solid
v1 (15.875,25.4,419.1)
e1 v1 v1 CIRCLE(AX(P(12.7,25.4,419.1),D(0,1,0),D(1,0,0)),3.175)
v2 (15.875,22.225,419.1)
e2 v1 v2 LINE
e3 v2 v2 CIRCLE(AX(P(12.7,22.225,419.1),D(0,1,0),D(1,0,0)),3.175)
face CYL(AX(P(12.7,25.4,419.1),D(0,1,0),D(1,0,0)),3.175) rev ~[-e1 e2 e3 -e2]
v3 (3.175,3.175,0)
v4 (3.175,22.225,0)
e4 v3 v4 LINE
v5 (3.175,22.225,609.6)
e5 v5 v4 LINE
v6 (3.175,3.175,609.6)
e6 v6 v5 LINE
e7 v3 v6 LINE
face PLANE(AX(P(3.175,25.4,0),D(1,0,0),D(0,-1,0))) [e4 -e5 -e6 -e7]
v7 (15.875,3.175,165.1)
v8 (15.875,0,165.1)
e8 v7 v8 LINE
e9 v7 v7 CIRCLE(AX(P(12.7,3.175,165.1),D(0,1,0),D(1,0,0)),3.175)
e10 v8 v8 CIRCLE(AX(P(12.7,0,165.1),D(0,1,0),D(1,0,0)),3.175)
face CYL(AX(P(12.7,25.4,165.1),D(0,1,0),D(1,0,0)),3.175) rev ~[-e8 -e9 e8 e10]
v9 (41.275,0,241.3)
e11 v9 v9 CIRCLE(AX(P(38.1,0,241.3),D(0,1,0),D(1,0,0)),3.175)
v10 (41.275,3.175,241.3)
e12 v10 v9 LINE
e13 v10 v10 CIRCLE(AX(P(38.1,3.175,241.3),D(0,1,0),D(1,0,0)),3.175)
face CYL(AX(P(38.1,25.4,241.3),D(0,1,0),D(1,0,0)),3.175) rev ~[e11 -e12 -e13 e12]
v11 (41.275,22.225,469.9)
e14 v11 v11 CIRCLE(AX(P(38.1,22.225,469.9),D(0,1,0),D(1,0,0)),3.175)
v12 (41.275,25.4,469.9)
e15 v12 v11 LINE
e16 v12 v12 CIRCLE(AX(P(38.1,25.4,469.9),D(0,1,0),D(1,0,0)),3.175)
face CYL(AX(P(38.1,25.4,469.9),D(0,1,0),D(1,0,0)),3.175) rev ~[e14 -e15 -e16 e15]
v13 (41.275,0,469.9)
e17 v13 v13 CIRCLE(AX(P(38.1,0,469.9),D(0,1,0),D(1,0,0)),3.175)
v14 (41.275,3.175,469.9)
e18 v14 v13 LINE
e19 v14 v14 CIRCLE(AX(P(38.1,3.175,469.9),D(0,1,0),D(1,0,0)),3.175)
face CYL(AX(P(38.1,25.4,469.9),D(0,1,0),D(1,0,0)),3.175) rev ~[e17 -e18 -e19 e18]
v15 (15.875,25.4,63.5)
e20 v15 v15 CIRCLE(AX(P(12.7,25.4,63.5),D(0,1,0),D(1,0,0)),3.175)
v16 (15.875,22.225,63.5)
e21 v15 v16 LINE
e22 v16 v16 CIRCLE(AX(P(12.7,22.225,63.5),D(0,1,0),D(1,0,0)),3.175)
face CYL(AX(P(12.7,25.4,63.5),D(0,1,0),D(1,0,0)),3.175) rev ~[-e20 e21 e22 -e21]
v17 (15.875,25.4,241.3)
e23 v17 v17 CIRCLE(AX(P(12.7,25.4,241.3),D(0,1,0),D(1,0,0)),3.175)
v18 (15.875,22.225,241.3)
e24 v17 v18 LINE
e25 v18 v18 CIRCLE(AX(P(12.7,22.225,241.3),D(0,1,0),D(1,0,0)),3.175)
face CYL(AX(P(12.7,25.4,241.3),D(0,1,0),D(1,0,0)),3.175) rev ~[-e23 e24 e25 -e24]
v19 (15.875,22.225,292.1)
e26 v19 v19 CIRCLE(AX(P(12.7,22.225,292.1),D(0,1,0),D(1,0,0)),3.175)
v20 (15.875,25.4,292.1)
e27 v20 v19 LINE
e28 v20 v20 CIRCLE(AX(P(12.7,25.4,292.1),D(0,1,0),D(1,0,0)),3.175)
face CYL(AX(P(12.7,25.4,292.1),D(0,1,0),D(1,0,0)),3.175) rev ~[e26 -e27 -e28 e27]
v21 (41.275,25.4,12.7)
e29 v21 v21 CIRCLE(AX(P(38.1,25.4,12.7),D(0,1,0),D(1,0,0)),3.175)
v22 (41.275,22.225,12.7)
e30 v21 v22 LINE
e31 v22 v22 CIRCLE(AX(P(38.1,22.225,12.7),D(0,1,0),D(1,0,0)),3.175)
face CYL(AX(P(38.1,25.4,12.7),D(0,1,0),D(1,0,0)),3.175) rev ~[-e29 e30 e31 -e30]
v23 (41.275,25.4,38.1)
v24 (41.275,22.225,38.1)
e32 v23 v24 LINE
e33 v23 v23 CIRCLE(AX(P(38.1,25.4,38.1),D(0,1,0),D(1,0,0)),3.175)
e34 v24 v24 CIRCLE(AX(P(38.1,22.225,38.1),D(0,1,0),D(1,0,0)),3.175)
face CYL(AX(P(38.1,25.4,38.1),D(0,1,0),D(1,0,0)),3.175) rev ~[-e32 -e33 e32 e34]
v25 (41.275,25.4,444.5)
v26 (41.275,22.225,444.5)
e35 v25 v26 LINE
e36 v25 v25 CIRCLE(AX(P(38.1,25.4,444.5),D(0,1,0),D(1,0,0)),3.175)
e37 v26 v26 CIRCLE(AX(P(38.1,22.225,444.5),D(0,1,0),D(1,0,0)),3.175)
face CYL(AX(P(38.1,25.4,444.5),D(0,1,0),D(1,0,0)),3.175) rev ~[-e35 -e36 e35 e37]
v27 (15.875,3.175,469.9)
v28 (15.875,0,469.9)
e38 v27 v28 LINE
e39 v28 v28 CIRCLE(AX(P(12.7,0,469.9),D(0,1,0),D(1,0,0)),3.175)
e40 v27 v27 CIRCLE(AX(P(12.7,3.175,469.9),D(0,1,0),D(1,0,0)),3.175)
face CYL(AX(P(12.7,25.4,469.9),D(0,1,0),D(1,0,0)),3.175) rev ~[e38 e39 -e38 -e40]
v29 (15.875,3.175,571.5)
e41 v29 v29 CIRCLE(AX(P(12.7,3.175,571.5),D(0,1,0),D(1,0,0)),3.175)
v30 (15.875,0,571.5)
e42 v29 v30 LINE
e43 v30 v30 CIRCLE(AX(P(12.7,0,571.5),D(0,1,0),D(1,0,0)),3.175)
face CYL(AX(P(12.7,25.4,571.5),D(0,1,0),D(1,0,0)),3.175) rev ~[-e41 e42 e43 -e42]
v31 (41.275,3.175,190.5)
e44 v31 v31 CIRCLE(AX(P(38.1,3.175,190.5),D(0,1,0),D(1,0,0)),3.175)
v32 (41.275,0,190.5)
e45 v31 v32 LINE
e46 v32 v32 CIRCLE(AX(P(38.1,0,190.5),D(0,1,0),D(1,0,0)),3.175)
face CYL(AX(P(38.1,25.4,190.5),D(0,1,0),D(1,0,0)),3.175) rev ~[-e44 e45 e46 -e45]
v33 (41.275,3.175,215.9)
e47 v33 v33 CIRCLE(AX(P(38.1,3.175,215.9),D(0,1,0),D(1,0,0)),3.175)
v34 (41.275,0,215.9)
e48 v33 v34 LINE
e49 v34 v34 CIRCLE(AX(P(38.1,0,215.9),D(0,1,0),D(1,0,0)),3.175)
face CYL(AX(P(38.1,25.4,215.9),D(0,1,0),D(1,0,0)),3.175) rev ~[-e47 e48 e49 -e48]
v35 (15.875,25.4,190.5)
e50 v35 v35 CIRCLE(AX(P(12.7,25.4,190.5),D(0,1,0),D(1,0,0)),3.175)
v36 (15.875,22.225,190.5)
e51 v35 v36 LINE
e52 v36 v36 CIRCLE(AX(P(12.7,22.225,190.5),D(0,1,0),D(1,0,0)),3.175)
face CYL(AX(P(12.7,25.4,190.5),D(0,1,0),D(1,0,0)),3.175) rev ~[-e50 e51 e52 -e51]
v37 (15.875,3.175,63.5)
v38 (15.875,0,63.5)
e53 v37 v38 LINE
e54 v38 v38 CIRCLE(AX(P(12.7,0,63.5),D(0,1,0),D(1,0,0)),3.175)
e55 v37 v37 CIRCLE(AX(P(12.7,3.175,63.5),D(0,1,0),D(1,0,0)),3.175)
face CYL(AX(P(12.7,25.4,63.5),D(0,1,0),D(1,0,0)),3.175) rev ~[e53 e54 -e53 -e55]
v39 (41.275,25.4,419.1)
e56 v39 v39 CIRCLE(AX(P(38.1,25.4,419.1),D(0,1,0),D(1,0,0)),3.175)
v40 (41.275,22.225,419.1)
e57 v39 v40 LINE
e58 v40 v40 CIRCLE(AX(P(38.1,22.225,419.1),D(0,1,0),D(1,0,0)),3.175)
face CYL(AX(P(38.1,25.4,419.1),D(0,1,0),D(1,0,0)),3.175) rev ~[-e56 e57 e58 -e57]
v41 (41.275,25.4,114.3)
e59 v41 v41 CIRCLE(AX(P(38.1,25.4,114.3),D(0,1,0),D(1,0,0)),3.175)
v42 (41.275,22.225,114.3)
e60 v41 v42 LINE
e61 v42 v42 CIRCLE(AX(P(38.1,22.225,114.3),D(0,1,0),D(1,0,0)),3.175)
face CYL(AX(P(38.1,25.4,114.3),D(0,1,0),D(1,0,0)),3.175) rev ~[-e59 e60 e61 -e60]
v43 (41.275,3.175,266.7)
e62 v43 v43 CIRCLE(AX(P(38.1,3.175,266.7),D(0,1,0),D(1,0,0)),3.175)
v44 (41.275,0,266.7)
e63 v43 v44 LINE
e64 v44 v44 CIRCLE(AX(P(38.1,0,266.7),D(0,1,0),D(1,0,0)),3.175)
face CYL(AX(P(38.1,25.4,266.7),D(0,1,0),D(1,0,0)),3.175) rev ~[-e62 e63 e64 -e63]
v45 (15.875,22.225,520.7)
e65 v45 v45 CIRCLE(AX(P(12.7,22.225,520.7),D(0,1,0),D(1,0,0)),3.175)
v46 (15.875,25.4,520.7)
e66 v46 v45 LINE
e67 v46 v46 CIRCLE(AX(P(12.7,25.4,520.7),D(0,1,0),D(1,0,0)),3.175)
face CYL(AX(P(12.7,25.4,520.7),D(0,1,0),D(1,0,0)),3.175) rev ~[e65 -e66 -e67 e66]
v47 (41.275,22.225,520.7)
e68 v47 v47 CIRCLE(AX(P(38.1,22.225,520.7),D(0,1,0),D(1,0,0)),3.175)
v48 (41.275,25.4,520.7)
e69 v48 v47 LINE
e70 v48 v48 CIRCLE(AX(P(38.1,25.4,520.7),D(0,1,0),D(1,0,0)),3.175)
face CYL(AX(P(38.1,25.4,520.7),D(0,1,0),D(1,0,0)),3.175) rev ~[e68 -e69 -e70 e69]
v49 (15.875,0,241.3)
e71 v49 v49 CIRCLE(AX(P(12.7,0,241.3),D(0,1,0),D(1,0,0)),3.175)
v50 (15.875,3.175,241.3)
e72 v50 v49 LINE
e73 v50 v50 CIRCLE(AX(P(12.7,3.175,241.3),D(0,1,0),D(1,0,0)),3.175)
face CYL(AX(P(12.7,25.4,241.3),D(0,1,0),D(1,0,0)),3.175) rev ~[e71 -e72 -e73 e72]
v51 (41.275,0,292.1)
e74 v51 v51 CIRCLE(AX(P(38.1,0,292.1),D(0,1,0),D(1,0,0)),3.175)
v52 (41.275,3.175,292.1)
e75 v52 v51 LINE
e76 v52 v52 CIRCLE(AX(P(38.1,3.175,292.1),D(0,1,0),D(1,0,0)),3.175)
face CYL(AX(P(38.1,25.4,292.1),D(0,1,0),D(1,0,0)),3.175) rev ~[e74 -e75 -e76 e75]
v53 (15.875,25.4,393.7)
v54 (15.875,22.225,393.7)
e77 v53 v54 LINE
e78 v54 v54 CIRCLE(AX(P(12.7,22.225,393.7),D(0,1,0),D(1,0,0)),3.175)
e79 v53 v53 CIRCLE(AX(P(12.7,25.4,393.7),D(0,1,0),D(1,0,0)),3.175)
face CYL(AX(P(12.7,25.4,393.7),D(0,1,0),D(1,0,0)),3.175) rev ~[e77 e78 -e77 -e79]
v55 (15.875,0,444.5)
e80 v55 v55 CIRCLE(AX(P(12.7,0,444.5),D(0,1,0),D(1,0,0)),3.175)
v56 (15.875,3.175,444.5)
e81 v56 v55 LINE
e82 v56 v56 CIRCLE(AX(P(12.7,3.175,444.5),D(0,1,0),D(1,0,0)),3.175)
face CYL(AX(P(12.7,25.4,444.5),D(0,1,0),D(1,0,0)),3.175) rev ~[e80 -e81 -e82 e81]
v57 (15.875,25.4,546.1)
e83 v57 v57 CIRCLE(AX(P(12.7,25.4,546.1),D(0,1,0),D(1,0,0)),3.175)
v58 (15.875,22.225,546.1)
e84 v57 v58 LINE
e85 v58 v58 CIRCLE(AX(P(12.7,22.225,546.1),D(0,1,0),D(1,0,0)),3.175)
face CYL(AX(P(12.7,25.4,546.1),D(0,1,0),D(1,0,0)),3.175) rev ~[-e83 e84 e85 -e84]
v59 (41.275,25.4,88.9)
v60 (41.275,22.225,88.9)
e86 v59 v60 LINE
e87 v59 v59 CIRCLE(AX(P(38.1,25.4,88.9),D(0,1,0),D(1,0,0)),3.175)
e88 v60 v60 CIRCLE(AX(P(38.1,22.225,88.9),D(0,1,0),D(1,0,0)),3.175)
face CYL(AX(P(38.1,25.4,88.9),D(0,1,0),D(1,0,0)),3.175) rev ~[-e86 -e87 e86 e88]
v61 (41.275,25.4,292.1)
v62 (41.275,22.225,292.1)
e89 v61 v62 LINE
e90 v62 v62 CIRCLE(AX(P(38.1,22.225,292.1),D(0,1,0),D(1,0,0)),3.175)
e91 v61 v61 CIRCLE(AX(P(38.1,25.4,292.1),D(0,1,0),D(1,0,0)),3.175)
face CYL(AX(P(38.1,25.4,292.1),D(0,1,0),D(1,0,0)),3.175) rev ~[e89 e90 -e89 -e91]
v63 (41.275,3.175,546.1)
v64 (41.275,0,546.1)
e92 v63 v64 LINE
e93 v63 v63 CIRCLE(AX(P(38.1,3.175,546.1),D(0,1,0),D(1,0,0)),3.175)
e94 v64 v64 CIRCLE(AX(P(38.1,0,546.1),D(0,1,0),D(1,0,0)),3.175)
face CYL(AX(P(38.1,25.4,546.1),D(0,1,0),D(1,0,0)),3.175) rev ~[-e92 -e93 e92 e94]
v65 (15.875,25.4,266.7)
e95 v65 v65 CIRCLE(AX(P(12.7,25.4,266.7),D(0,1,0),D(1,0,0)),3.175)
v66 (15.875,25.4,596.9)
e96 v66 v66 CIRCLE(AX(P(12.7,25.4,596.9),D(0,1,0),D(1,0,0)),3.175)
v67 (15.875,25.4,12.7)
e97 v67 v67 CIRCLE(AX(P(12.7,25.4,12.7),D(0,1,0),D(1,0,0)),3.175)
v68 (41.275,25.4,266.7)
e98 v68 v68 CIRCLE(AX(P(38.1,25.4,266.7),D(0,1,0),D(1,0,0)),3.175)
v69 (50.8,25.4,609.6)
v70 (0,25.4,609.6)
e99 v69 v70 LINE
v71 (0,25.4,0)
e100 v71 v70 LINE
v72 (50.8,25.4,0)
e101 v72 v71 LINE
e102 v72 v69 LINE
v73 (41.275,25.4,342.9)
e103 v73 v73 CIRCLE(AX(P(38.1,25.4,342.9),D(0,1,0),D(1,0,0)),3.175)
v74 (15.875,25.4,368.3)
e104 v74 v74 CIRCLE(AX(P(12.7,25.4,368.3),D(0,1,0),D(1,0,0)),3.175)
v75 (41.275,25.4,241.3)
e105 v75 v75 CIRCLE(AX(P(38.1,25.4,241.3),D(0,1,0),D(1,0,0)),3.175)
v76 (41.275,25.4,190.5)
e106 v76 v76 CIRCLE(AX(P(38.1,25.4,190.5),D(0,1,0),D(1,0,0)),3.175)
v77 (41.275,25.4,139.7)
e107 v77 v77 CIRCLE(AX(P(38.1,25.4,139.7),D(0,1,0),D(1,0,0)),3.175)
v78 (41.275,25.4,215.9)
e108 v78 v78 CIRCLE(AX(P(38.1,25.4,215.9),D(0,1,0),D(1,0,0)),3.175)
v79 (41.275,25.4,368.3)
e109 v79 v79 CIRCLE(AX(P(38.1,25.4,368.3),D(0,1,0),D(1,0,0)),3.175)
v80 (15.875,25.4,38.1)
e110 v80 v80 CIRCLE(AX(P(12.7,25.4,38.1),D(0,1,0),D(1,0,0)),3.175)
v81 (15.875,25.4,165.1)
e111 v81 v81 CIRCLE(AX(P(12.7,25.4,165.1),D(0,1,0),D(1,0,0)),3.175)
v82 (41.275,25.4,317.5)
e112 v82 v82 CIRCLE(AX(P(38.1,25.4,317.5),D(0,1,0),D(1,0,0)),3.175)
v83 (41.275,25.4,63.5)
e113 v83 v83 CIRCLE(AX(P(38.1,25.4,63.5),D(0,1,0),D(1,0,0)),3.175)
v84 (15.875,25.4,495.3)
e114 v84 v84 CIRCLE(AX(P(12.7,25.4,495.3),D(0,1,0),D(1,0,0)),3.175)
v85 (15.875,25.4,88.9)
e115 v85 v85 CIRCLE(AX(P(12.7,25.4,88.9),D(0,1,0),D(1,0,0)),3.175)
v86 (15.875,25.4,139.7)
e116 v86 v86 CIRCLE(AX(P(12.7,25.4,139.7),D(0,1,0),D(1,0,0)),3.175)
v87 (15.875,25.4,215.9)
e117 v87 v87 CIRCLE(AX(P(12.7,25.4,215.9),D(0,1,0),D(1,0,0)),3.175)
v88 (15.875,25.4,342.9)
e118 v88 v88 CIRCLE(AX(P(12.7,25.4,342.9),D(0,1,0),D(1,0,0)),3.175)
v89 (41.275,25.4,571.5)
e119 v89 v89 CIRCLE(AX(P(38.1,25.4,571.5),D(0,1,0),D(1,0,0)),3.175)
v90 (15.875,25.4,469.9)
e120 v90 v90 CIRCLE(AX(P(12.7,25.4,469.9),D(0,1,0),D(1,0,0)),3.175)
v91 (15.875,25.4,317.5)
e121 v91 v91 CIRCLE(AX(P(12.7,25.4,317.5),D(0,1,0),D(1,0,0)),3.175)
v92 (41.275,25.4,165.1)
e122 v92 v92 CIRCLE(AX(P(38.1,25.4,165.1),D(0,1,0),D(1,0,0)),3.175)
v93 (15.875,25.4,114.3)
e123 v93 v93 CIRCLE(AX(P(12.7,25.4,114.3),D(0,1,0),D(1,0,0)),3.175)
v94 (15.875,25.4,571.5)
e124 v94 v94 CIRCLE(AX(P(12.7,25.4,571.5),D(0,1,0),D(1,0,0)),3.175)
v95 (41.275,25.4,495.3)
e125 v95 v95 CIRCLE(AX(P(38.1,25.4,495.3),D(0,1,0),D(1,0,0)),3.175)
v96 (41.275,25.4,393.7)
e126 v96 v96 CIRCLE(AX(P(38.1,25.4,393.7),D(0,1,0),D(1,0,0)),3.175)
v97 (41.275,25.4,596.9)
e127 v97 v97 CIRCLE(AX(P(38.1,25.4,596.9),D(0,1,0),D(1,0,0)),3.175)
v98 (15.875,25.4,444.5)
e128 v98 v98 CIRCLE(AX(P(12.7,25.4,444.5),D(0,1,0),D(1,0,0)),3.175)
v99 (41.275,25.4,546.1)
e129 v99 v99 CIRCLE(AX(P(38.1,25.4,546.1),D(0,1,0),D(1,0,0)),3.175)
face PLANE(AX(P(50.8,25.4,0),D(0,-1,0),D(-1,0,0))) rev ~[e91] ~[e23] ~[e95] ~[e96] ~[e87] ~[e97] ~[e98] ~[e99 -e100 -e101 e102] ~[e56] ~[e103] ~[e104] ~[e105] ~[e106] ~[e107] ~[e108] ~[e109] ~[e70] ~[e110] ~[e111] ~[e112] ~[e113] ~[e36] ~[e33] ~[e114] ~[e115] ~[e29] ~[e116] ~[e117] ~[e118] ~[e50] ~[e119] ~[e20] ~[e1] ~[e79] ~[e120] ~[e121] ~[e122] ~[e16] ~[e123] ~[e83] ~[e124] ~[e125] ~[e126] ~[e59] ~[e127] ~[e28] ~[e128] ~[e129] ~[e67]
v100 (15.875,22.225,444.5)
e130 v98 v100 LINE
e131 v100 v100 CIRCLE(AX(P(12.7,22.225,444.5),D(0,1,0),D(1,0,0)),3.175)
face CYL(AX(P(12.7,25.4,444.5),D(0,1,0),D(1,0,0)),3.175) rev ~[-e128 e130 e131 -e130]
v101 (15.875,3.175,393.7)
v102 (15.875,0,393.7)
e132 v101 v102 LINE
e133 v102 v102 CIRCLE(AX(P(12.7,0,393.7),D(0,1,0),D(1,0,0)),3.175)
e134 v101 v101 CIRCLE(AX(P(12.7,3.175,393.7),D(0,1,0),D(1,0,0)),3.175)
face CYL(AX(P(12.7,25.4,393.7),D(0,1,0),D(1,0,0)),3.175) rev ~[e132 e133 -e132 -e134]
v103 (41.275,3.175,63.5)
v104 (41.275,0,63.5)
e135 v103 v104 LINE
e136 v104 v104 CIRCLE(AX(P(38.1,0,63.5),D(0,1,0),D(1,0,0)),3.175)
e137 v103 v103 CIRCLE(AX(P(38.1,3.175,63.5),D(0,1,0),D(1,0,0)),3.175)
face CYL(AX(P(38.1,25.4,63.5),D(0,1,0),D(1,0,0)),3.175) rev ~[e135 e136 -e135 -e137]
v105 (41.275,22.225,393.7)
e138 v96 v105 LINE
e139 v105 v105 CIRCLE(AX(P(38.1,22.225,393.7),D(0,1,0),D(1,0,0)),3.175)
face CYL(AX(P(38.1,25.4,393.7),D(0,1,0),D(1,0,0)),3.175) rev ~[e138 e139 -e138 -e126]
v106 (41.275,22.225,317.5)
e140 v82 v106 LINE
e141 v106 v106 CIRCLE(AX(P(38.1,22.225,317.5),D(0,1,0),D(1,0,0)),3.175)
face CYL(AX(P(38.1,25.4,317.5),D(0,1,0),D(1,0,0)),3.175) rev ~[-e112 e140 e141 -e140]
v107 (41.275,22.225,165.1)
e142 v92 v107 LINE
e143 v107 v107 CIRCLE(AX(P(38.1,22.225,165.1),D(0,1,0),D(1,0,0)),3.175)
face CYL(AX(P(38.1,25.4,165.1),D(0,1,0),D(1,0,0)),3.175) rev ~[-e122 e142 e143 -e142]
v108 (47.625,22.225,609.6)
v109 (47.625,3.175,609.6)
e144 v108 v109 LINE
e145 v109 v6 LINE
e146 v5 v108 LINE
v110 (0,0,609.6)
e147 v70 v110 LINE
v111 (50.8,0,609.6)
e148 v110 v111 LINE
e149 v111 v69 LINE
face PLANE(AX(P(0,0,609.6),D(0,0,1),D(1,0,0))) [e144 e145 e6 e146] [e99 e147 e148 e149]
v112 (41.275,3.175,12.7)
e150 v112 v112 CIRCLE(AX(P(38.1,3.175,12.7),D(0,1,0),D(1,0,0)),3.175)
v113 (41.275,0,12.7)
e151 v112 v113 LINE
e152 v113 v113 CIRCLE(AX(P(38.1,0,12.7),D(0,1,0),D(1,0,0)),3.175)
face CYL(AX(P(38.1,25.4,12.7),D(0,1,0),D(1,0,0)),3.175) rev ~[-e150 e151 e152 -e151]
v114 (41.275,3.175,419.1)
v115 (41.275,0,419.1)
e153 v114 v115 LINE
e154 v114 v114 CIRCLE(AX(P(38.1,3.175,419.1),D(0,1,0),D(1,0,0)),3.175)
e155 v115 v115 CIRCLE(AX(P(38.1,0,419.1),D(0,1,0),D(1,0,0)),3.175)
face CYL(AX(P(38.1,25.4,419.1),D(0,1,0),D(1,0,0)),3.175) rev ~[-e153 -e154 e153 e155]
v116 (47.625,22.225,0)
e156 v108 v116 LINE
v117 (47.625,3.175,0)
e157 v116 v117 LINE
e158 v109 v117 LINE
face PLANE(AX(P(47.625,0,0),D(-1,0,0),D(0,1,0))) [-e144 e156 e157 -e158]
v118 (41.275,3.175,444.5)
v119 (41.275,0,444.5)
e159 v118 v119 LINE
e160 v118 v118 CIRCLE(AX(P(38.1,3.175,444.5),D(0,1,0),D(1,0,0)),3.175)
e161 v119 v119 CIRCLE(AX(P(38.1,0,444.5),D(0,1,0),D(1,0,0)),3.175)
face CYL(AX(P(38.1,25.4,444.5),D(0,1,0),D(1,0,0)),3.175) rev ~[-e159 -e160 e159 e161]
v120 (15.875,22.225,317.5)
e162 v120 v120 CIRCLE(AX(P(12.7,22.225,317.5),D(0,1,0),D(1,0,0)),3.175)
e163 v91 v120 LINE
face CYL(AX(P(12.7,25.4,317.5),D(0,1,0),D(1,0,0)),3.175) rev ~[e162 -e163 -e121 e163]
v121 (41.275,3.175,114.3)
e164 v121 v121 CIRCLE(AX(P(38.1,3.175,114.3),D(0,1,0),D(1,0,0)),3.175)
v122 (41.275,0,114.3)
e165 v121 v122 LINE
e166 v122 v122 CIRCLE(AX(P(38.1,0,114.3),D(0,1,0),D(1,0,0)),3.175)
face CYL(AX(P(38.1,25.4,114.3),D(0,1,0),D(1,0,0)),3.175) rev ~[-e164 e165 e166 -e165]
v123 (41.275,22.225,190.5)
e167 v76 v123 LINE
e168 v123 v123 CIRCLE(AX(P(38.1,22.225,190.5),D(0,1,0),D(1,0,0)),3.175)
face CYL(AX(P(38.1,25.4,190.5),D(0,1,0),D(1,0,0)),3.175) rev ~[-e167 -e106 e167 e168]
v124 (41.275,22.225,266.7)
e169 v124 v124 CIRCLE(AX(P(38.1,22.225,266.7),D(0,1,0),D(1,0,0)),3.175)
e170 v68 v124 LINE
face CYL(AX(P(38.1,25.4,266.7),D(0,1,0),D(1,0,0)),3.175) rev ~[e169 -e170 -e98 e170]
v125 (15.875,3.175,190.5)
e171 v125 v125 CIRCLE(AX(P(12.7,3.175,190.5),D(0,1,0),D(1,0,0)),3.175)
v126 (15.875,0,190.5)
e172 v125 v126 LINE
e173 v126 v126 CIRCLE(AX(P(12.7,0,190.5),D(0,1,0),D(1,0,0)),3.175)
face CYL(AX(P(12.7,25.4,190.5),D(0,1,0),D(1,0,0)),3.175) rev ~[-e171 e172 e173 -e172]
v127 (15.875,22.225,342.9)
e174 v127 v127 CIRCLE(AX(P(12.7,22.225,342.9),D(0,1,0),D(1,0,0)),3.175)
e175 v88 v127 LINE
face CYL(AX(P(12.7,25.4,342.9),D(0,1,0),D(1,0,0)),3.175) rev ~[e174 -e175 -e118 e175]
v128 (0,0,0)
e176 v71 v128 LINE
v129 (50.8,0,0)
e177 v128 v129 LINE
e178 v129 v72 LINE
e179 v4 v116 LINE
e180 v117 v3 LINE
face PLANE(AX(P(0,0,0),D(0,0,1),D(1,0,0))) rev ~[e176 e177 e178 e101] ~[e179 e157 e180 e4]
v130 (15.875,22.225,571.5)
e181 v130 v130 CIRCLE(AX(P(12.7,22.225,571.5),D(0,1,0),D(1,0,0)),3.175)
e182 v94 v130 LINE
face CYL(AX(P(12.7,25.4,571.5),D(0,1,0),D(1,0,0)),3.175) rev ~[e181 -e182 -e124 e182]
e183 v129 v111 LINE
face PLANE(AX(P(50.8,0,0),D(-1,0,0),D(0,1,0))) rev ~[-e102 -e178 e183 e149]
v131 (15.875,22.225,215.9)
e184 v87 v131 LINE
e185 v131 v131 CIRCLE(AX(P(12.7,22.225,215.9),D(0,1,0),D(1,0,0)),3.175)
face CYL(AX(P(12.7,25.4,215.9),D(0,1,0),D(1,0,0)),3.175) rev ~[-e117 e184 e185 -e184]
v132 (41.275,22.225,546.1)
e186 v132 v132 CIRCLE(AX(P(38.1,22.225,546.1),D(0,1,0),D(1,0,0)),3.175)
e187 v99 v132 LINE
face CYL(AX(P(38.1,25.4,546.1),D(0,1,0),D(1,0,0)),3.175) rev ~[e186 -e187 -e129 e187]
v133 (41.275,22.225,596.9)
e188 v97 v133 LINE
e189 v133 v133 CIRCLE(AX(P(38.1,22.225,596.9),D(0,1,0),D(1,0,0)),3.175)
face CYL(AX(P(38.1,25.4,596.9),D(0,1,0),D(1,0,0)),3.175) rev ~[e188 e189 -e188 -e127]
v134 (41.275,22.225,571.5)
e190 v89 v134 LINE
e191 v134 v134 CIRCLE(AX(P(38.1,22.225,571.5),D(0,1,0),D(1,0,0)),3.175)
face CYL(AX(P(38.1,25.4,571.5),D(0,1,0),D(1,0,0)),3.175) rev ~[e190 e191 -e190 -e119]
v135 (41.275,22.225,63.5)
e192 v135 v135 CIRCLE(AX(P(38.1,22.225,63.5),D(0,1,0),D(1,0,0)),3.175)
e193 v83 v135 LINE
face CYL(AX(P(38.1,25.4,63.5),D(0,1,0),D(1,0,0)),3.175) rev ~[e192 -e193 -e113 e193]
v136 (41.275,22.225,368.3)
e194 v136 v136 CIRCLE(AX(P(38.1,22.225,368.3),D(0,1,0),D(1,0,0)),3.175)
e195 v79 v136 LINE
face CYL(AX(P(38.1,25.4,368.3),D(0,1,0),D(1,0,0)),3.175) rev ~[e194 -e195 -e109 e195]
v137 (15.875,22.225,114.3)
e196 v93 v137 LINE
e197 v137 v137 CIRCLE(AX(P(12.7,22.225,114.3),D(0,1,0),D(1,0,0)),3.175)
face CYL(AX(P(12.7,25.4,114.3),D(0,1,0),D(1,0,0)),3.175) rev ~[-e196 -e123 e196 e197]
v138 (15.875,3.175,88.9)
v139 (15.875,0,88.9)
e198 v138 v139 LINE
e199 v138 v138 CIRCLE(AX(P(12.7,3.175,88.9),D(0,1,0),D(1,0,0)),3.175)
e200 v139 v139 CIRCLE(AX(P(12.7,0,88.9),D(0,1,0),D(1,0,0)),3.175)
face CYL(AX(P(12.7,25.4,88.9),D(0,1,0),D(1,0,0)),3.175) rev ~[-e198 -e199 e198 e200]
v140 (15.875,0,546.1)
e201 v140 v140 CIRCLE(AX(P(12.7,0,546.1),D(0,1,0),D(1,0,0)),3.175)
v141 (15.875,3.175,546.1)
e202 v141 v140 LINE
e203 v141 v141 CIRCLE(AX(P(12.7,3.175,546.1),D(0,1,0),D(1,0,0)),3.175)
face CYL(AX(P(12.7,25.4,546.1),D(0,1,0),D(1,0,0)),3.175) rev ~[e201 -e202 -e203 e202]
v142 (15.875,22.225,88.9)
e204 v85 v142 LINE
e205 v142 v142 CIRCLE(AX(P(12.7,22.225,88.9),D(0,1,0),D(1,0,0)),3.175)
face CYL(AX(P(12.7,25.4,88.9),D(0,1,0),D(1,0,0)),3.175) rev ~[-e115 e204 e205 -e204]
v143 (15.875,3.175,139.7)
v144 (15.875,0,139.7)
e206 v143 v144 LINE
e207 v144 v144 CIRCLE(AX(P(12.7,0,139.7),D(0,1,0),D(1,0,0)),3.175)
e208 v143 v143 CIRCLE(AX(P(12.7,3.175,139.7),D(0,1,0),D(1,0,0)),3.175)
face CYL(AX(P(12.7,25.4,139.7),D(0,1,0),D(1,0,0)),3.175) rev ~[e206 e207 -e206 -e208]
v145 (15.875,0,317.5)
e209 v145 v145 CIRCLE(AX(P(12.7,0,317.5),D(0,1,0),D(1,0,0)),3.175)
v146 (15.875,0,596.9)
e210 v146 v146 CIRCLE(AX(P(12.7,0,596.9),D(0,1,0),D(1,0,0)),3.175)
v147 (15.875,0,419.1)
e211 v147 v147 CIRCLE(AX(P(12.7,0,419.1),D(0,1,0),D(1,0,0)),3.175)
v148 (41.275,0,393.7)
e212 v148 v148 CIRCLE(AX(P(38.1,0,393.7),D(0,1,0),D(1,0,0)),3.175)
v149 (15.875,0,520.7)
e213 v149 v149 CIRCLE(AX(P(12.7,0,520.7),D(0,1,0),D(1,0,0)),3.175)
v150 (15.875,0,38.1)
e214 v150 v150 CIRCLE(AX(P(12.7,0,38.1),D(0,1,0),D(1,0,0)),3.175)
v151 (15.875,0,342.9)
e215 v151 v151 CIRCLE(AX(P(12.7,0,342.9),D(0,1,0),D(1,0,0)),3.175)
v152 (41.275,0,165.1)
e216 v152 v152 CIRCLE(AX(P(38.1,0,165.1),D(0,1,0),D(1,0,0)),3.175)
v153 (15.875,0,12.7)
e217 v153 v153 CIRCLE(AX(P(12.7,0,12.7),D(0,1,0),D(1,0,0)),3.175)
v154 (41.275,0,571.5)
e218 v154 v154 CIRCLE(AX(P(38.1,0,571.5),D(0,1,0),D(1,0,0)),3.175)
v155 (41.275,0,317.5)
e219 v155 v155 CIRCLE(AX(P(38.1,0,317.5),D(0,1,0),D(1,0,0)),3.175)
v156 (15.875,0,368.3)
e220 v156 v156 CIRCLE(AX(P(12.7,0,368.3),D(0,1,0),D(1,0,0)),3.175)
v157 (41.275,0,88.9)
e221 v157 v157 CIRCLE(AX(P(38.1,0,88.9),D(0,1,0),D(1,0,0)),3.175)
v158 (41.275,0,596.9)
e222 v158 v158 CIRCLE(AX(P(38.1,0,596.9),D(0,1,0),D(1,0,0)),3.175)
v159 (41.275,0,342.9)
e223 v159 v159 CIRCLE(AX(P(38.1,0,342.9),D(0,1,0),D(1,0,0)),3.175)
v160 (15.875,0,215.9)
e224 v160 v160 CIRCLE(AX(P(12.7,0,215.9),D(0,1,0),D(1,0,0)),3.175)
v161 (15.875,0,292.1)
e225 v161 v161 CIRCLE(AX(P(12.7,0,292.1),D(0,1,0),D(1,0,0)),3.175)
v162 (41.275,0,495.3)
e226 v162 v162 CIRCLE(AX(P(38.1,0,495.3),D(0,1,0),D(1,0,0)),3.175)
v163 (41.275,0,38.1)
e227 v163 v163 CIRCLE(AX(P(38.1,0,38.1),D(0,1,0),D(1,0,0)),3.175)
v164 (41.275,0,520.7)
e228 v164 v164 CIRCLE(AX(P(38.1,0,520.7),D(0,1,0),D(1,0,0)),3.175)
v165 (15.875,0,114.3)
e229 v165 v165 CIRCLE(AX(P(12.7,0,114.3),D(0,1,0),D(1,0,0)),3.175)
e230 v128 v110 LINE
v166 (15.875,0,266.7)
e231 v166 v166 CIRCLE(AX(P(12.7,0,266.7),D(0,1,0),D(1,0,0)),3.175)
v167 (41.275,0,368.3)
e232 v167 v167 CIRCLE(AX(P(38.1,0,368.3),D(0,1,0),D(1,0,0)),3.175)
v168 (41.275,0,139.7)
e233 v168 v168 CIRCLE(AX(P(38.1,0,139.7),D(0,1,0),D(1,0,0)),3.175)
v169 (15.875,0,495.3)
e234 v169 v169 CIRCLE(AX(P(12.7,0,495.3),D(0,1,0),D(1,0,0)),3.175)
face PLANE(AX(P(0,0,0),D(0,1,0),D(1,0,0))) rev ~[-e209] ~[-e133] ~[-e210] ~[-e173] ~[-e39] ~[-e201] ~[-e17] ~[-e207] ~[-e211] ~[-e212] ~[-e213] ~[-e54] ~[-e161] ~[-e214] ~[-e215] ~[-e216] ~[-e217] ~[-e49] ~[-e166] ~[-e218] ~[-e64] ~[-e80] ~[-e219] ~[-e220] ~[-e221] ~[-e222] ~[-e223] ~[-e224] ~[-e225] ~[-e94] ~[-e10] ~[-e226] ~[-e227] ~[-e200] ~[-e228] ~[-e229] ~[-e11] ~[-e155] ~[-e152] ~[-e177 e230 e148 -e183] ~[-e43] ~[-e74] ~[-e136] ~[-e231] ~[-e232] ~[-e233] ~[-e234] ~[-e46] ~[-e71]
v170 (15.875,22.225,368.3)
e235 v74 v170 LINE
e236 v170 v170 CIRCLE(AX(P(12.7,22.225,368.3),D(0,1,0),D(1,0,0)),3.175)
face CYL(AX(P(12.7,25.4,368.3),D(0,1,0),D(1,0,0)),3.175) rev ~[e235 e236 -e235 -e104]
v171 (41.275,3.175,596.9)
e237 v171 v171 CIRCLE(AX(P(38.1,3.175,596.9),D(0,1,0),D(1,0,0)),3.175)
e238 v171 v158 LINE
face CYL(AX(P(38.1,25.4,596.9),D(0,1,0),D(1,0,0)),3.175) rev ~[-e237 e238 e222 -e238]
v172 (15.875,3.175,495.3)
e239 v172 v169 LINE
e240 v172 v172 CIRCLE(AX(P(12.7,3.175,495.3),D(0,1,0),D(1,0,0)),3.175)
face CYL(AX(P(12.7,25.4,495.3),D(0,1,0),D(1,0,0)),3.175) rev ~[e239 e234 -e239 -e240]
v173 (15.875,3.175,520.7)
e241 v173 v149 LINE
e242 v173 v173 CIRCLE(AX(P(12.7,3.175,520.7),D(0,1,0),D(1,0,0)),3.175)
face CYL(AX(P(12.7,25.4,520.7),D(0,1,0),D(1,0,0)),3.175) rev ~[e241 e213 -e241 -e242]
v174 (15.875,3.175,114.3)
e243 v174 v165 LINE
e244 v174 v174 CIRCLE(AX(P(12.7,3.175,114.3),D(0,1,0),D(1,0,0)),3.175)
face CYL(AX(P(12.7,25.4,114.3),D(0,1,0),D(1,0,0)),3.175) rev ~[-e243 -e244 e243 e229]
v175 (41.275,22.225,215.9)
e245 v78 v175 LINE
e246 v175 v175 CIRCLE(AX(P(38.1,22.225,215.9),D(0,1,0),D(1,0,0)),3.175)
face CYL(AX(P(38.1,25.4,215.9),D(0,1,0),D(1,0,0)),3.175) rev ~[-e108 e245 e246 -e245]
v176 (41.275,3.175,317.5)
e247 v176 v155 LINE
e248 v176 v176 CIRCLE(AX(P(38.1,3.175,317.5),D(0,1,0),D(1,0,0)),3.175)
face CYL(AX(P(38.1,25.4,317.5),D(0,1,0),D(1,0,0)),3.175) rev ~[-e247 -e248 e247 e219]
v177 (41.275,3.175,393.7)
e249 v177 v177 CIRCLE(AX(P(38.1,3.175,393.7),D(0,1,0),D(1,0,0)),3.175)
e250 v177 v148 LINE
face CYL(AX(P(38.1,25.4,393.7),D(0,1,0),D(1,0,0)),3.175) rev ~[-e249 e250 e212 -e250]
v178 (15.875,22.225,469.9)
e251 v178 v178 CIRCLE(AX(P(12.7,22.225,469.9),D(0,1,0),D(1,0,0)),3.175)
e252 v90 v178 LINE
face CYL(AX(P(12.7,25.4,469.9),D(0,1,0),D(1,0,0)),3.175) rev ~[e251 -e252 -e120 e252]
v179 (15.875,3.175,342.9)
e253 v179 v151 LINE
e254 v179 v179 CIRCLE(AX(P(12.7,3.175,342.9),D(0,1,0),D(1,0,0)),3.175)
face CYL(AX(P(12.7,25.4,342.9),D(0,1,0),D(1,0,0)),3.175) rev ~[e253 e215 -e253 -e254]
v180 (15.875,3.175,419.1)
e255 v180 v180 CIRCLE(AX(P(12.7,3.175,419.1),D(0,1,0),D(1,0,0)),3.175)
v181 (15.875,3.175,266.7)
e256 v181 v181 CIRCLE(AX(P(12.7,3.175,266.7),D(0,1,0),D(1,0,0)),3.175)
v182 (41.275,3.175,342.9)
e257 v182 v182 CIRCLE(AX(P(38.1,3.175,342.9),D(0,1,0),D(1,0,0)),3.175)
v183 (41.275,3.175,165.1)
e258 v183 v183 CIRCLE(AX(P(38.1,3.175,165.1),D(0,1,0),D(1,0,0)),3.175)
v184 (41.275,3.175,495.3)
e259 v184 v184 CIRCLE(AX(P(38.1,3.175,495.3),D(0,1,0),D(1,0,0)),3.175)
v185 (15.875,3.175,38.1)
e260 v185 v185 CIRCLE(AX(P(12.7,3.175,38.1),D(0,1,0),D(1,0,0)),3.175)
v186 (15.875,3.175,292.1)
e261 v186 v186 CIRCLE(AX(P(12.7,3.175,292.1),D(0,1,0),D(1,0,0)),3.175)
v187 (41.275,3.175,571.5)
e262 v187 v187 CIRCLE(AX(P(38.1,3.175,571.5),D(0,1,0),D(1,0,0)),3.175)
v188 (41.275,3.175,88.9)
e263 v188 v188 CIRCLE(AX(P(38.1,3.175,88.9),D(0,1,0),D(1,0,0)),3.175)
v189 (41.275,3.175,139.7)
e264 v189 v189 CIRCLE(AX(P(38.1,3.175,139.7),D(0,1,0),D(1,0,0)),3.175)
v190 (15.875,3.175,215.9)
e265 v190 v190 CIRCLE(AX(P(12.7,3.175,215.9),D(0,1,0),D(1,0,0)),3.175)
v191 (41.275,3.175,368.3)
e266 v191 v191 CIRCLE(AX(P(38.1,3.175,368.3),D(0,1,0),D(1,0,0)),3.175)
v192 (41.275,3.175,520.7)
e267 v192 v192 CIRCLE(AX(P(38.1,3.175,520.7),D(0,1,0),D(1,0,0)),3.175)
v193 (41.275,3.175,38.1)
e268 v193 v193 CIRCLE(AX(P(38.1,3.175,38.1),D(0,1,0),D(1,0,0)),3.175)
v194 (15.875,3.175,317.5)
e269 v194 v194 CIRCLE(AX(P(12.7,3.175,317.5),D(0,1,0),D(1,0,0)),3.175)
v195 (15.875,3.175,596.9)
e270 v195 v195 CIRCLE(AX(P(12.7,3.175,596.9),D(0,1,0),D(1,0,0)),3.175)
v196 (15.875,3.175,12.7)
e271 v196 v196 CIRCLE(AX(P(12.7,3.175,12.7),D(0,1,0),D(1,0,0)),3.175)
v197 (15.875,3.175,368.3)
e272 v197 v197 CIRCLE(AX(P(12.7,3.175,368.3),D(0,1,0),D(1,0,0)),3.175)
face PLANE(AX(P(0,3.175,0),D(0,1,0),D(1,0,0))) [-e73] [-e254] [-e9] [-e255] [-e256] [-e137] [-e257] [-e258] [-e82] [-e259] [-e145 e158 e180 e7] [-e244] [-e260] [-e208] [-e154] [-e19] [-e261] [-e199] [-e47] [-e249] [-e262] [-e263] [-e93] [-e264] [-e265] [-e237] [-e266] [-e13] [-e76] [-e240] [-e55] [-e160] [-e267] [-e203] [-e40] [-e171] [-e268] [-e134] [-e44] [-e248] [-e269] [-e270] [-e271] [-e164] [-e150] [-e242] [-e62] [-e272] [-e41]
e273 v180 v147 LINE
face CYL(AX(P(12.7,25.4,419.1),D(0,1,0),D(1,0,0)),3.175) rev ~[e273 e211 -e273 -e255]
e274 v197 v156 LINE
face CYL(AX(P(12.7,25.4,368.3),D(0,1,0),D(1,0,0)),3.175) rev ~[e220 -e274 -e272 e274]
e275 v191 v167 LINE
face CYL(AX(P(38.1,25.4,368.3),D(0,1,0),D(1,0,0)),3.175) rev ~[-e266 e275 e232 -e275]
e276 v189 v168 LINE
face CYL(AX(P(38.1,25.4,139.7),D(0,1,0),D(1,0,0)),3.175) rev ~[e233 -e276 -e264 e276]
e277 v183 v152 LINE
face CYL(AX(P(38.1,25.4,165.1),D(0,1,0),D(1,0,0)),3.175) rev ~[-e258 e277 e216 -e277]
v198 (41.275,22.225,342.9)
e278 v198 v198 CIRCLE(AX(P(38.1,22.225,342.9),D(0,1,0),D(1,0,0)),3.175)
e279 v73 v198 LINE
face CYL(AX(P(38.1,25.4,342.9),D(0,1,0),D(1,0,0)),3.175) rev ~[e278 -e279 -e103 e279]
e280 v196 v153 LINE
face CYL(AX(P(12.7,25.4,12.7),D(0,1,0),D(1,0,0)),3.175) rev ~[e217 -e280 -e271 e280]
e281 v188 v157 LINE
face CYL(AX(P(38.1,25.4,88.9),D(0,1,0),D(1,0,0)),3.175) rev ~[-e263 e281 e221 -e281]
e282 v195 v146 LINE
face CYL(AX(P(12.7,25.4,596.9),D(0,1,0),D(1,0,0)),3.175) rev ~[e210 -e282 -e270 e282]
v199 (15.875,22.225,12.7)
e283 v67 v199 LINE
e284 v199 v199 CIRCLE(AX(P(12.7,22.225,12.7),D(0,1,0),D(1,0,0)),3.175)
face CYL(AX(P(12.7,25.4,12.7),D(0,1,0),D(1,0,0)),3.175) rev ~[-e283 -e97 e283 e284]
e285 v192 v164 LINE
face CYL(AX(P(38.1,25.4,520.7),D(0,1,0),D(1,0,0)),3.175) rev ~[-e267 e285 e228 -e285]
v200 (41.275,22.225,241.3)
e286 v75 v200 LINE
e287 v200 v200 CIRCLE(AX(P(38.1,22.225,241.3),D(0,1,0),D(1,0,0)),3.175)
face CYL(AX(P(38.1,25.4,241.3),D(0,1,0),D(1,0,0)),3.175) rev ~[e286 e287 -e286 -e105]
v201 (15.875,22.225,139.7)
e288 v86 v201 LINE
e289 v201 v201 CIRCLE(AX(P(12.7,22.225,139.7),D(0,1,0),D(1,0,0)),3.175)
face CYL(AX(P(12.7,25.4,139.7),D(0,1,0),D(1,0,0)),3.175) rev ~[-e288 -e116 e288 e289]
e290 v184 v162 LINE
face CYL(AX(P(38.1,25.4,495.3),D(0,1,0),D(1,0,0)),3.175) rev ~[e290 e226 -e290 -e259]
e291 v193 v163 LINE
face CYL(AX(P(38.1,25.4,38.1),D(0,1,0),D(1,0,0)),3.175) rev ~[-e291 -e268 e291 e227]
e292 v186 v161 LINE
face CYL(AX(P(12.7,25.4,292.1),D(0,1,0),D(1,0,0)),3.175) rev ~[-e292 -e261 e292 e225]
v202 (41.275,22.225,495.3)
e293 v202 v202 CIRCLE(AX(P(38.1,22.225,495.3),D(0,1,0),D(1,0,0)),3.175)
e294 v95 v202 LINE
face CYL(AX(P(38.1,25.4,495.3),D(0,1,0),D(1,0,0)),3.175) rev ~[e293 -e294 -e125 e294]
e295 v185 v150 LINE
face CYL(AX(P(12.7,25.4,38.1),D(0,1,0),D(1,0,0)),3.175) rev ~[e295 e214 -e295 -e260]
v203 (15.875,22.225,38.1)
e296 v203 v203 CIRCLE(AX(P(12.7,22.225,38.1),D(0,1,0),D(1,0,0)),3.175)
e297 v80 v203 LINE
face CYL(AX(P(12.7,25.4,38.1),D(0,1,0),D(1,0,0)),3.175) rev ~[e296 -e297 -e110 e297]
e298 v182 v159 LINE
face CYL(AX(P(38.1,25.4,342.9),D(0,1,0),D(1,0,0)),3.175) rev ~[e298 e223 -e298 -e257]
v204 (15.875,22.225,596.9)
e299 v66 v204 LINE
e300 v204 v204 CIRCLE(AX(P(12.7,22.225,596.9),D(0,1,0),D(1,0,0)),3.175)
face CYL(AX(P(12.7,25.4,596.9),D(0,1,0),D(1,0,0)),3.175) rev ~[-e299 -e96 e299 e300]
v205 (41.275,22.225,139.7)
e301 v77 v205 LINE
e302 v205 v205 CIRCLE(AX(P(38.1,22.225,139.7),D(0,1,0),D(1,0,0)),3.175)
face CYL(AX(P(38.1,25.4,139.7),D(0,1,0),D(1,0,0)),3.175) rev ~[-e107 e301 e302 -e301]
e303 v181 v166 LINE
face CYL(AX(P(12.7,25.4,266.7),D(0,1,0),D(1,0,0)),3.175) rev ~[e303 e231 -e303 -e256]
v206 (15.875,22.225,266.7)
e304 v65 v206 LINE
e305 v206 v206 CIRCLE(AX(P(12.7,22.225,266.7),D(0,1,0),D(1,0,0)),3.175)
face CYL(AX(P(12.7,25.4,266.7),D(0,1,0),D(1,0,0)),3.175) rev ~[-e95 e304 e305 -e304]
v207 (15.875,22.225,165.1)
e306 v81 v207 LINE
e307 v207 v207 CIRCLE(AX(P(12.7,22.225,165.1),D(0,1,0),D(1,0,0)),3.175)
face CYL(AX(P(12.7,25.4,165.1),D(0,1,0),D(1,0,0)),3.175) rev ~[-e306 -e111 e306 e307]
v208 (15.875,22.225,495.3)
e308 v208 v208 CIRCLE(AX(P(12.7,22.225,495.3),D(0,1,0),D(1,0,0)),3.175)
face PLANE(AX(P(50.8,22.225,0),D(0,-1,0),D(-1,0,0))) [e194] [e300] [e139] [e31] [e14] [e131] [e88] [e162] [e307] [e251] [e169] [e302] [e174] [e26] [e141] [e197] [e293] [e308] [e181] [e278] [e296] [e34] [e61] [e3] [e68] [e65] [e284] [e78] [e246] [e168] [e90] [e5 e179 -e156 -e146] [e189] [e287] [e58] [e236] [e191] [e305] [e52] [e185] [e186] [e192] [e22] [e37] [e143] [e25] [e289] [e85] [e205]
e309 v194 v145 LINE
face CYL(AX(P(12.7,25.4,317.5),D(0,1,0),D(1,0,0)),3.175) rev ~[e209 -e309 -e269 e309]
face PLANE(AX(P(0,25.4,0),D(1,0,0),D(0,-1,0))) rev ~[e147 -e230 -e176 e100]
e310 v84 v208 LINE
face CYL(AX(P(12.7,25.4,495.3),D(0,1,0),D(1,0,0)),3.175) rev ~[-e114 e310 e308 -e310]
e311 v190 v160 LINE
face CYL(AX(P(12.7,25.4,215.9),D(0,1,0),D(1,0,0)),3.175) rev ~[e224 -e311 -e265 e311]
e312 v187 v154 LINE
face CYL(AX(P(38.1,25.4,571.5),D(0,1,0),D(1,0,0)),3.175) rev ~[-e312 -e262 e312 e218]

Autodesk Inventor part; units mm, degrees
ref_plane "YZ Plane" through (0, 0, 0) normal (1, 0, 0) x (0, 1, 0)
ref_plane "XZ Plane" through (0, 0, 0) normal (0, 1, 0) x (-1, 0, 0)
ref_plane "XY Plane" through (0, 0, 0) normal (0, 0, 1) x (1, 0, 0)
sketch "Sketch1" plane through (0, 0, 0) normal (0, 0, 1) x (1, 0, 0)
  line L0 (0, 0) -> (50.8, 0)
  line L1 (50.8, 0) -> (50.8, 25.4)
  line L2 (50.8, 25.4) -> (0, 25.4)
  line L3 (0, 25.4) -> (0, 0)
  dimension "d0" = 25.4
  dimension "d1" = 50.8
extrude "Extrusion1" add sketch "Sketch1" along normal blind 609.6
shell "Shell1" thickness 3.175 removed faces 2 at (33.8667, 8.4667, 0) at (33.8667, 8.4667, 609.6)
sketch "Sketch2" plane through (0, 25.4, 0) normal (0, 1, 0) x (1, 0, 0)
  line L0 (50.8, 0) -> (0, 0) projected
  line L1 (0, 0) -> (0, -609.6) projected
  circle A0 centre (12.7, -12.7) radius 3.175
  dimension "d5" = 12.7
  dimension "d6" = 12.7
  dimension "d7" = 6.35
extrude "Extrusion2" cut sketch "Sketch2" against normal through all
pattern_linear "Rectangular Pattern1" count 24 spacing 25.4 along (0, 0, 1) count 2 spacing 25.4 along (1, 0, 0) of "Extrusion2"
properties part number "FrameCrossMember" material "Aluminum-6061"
